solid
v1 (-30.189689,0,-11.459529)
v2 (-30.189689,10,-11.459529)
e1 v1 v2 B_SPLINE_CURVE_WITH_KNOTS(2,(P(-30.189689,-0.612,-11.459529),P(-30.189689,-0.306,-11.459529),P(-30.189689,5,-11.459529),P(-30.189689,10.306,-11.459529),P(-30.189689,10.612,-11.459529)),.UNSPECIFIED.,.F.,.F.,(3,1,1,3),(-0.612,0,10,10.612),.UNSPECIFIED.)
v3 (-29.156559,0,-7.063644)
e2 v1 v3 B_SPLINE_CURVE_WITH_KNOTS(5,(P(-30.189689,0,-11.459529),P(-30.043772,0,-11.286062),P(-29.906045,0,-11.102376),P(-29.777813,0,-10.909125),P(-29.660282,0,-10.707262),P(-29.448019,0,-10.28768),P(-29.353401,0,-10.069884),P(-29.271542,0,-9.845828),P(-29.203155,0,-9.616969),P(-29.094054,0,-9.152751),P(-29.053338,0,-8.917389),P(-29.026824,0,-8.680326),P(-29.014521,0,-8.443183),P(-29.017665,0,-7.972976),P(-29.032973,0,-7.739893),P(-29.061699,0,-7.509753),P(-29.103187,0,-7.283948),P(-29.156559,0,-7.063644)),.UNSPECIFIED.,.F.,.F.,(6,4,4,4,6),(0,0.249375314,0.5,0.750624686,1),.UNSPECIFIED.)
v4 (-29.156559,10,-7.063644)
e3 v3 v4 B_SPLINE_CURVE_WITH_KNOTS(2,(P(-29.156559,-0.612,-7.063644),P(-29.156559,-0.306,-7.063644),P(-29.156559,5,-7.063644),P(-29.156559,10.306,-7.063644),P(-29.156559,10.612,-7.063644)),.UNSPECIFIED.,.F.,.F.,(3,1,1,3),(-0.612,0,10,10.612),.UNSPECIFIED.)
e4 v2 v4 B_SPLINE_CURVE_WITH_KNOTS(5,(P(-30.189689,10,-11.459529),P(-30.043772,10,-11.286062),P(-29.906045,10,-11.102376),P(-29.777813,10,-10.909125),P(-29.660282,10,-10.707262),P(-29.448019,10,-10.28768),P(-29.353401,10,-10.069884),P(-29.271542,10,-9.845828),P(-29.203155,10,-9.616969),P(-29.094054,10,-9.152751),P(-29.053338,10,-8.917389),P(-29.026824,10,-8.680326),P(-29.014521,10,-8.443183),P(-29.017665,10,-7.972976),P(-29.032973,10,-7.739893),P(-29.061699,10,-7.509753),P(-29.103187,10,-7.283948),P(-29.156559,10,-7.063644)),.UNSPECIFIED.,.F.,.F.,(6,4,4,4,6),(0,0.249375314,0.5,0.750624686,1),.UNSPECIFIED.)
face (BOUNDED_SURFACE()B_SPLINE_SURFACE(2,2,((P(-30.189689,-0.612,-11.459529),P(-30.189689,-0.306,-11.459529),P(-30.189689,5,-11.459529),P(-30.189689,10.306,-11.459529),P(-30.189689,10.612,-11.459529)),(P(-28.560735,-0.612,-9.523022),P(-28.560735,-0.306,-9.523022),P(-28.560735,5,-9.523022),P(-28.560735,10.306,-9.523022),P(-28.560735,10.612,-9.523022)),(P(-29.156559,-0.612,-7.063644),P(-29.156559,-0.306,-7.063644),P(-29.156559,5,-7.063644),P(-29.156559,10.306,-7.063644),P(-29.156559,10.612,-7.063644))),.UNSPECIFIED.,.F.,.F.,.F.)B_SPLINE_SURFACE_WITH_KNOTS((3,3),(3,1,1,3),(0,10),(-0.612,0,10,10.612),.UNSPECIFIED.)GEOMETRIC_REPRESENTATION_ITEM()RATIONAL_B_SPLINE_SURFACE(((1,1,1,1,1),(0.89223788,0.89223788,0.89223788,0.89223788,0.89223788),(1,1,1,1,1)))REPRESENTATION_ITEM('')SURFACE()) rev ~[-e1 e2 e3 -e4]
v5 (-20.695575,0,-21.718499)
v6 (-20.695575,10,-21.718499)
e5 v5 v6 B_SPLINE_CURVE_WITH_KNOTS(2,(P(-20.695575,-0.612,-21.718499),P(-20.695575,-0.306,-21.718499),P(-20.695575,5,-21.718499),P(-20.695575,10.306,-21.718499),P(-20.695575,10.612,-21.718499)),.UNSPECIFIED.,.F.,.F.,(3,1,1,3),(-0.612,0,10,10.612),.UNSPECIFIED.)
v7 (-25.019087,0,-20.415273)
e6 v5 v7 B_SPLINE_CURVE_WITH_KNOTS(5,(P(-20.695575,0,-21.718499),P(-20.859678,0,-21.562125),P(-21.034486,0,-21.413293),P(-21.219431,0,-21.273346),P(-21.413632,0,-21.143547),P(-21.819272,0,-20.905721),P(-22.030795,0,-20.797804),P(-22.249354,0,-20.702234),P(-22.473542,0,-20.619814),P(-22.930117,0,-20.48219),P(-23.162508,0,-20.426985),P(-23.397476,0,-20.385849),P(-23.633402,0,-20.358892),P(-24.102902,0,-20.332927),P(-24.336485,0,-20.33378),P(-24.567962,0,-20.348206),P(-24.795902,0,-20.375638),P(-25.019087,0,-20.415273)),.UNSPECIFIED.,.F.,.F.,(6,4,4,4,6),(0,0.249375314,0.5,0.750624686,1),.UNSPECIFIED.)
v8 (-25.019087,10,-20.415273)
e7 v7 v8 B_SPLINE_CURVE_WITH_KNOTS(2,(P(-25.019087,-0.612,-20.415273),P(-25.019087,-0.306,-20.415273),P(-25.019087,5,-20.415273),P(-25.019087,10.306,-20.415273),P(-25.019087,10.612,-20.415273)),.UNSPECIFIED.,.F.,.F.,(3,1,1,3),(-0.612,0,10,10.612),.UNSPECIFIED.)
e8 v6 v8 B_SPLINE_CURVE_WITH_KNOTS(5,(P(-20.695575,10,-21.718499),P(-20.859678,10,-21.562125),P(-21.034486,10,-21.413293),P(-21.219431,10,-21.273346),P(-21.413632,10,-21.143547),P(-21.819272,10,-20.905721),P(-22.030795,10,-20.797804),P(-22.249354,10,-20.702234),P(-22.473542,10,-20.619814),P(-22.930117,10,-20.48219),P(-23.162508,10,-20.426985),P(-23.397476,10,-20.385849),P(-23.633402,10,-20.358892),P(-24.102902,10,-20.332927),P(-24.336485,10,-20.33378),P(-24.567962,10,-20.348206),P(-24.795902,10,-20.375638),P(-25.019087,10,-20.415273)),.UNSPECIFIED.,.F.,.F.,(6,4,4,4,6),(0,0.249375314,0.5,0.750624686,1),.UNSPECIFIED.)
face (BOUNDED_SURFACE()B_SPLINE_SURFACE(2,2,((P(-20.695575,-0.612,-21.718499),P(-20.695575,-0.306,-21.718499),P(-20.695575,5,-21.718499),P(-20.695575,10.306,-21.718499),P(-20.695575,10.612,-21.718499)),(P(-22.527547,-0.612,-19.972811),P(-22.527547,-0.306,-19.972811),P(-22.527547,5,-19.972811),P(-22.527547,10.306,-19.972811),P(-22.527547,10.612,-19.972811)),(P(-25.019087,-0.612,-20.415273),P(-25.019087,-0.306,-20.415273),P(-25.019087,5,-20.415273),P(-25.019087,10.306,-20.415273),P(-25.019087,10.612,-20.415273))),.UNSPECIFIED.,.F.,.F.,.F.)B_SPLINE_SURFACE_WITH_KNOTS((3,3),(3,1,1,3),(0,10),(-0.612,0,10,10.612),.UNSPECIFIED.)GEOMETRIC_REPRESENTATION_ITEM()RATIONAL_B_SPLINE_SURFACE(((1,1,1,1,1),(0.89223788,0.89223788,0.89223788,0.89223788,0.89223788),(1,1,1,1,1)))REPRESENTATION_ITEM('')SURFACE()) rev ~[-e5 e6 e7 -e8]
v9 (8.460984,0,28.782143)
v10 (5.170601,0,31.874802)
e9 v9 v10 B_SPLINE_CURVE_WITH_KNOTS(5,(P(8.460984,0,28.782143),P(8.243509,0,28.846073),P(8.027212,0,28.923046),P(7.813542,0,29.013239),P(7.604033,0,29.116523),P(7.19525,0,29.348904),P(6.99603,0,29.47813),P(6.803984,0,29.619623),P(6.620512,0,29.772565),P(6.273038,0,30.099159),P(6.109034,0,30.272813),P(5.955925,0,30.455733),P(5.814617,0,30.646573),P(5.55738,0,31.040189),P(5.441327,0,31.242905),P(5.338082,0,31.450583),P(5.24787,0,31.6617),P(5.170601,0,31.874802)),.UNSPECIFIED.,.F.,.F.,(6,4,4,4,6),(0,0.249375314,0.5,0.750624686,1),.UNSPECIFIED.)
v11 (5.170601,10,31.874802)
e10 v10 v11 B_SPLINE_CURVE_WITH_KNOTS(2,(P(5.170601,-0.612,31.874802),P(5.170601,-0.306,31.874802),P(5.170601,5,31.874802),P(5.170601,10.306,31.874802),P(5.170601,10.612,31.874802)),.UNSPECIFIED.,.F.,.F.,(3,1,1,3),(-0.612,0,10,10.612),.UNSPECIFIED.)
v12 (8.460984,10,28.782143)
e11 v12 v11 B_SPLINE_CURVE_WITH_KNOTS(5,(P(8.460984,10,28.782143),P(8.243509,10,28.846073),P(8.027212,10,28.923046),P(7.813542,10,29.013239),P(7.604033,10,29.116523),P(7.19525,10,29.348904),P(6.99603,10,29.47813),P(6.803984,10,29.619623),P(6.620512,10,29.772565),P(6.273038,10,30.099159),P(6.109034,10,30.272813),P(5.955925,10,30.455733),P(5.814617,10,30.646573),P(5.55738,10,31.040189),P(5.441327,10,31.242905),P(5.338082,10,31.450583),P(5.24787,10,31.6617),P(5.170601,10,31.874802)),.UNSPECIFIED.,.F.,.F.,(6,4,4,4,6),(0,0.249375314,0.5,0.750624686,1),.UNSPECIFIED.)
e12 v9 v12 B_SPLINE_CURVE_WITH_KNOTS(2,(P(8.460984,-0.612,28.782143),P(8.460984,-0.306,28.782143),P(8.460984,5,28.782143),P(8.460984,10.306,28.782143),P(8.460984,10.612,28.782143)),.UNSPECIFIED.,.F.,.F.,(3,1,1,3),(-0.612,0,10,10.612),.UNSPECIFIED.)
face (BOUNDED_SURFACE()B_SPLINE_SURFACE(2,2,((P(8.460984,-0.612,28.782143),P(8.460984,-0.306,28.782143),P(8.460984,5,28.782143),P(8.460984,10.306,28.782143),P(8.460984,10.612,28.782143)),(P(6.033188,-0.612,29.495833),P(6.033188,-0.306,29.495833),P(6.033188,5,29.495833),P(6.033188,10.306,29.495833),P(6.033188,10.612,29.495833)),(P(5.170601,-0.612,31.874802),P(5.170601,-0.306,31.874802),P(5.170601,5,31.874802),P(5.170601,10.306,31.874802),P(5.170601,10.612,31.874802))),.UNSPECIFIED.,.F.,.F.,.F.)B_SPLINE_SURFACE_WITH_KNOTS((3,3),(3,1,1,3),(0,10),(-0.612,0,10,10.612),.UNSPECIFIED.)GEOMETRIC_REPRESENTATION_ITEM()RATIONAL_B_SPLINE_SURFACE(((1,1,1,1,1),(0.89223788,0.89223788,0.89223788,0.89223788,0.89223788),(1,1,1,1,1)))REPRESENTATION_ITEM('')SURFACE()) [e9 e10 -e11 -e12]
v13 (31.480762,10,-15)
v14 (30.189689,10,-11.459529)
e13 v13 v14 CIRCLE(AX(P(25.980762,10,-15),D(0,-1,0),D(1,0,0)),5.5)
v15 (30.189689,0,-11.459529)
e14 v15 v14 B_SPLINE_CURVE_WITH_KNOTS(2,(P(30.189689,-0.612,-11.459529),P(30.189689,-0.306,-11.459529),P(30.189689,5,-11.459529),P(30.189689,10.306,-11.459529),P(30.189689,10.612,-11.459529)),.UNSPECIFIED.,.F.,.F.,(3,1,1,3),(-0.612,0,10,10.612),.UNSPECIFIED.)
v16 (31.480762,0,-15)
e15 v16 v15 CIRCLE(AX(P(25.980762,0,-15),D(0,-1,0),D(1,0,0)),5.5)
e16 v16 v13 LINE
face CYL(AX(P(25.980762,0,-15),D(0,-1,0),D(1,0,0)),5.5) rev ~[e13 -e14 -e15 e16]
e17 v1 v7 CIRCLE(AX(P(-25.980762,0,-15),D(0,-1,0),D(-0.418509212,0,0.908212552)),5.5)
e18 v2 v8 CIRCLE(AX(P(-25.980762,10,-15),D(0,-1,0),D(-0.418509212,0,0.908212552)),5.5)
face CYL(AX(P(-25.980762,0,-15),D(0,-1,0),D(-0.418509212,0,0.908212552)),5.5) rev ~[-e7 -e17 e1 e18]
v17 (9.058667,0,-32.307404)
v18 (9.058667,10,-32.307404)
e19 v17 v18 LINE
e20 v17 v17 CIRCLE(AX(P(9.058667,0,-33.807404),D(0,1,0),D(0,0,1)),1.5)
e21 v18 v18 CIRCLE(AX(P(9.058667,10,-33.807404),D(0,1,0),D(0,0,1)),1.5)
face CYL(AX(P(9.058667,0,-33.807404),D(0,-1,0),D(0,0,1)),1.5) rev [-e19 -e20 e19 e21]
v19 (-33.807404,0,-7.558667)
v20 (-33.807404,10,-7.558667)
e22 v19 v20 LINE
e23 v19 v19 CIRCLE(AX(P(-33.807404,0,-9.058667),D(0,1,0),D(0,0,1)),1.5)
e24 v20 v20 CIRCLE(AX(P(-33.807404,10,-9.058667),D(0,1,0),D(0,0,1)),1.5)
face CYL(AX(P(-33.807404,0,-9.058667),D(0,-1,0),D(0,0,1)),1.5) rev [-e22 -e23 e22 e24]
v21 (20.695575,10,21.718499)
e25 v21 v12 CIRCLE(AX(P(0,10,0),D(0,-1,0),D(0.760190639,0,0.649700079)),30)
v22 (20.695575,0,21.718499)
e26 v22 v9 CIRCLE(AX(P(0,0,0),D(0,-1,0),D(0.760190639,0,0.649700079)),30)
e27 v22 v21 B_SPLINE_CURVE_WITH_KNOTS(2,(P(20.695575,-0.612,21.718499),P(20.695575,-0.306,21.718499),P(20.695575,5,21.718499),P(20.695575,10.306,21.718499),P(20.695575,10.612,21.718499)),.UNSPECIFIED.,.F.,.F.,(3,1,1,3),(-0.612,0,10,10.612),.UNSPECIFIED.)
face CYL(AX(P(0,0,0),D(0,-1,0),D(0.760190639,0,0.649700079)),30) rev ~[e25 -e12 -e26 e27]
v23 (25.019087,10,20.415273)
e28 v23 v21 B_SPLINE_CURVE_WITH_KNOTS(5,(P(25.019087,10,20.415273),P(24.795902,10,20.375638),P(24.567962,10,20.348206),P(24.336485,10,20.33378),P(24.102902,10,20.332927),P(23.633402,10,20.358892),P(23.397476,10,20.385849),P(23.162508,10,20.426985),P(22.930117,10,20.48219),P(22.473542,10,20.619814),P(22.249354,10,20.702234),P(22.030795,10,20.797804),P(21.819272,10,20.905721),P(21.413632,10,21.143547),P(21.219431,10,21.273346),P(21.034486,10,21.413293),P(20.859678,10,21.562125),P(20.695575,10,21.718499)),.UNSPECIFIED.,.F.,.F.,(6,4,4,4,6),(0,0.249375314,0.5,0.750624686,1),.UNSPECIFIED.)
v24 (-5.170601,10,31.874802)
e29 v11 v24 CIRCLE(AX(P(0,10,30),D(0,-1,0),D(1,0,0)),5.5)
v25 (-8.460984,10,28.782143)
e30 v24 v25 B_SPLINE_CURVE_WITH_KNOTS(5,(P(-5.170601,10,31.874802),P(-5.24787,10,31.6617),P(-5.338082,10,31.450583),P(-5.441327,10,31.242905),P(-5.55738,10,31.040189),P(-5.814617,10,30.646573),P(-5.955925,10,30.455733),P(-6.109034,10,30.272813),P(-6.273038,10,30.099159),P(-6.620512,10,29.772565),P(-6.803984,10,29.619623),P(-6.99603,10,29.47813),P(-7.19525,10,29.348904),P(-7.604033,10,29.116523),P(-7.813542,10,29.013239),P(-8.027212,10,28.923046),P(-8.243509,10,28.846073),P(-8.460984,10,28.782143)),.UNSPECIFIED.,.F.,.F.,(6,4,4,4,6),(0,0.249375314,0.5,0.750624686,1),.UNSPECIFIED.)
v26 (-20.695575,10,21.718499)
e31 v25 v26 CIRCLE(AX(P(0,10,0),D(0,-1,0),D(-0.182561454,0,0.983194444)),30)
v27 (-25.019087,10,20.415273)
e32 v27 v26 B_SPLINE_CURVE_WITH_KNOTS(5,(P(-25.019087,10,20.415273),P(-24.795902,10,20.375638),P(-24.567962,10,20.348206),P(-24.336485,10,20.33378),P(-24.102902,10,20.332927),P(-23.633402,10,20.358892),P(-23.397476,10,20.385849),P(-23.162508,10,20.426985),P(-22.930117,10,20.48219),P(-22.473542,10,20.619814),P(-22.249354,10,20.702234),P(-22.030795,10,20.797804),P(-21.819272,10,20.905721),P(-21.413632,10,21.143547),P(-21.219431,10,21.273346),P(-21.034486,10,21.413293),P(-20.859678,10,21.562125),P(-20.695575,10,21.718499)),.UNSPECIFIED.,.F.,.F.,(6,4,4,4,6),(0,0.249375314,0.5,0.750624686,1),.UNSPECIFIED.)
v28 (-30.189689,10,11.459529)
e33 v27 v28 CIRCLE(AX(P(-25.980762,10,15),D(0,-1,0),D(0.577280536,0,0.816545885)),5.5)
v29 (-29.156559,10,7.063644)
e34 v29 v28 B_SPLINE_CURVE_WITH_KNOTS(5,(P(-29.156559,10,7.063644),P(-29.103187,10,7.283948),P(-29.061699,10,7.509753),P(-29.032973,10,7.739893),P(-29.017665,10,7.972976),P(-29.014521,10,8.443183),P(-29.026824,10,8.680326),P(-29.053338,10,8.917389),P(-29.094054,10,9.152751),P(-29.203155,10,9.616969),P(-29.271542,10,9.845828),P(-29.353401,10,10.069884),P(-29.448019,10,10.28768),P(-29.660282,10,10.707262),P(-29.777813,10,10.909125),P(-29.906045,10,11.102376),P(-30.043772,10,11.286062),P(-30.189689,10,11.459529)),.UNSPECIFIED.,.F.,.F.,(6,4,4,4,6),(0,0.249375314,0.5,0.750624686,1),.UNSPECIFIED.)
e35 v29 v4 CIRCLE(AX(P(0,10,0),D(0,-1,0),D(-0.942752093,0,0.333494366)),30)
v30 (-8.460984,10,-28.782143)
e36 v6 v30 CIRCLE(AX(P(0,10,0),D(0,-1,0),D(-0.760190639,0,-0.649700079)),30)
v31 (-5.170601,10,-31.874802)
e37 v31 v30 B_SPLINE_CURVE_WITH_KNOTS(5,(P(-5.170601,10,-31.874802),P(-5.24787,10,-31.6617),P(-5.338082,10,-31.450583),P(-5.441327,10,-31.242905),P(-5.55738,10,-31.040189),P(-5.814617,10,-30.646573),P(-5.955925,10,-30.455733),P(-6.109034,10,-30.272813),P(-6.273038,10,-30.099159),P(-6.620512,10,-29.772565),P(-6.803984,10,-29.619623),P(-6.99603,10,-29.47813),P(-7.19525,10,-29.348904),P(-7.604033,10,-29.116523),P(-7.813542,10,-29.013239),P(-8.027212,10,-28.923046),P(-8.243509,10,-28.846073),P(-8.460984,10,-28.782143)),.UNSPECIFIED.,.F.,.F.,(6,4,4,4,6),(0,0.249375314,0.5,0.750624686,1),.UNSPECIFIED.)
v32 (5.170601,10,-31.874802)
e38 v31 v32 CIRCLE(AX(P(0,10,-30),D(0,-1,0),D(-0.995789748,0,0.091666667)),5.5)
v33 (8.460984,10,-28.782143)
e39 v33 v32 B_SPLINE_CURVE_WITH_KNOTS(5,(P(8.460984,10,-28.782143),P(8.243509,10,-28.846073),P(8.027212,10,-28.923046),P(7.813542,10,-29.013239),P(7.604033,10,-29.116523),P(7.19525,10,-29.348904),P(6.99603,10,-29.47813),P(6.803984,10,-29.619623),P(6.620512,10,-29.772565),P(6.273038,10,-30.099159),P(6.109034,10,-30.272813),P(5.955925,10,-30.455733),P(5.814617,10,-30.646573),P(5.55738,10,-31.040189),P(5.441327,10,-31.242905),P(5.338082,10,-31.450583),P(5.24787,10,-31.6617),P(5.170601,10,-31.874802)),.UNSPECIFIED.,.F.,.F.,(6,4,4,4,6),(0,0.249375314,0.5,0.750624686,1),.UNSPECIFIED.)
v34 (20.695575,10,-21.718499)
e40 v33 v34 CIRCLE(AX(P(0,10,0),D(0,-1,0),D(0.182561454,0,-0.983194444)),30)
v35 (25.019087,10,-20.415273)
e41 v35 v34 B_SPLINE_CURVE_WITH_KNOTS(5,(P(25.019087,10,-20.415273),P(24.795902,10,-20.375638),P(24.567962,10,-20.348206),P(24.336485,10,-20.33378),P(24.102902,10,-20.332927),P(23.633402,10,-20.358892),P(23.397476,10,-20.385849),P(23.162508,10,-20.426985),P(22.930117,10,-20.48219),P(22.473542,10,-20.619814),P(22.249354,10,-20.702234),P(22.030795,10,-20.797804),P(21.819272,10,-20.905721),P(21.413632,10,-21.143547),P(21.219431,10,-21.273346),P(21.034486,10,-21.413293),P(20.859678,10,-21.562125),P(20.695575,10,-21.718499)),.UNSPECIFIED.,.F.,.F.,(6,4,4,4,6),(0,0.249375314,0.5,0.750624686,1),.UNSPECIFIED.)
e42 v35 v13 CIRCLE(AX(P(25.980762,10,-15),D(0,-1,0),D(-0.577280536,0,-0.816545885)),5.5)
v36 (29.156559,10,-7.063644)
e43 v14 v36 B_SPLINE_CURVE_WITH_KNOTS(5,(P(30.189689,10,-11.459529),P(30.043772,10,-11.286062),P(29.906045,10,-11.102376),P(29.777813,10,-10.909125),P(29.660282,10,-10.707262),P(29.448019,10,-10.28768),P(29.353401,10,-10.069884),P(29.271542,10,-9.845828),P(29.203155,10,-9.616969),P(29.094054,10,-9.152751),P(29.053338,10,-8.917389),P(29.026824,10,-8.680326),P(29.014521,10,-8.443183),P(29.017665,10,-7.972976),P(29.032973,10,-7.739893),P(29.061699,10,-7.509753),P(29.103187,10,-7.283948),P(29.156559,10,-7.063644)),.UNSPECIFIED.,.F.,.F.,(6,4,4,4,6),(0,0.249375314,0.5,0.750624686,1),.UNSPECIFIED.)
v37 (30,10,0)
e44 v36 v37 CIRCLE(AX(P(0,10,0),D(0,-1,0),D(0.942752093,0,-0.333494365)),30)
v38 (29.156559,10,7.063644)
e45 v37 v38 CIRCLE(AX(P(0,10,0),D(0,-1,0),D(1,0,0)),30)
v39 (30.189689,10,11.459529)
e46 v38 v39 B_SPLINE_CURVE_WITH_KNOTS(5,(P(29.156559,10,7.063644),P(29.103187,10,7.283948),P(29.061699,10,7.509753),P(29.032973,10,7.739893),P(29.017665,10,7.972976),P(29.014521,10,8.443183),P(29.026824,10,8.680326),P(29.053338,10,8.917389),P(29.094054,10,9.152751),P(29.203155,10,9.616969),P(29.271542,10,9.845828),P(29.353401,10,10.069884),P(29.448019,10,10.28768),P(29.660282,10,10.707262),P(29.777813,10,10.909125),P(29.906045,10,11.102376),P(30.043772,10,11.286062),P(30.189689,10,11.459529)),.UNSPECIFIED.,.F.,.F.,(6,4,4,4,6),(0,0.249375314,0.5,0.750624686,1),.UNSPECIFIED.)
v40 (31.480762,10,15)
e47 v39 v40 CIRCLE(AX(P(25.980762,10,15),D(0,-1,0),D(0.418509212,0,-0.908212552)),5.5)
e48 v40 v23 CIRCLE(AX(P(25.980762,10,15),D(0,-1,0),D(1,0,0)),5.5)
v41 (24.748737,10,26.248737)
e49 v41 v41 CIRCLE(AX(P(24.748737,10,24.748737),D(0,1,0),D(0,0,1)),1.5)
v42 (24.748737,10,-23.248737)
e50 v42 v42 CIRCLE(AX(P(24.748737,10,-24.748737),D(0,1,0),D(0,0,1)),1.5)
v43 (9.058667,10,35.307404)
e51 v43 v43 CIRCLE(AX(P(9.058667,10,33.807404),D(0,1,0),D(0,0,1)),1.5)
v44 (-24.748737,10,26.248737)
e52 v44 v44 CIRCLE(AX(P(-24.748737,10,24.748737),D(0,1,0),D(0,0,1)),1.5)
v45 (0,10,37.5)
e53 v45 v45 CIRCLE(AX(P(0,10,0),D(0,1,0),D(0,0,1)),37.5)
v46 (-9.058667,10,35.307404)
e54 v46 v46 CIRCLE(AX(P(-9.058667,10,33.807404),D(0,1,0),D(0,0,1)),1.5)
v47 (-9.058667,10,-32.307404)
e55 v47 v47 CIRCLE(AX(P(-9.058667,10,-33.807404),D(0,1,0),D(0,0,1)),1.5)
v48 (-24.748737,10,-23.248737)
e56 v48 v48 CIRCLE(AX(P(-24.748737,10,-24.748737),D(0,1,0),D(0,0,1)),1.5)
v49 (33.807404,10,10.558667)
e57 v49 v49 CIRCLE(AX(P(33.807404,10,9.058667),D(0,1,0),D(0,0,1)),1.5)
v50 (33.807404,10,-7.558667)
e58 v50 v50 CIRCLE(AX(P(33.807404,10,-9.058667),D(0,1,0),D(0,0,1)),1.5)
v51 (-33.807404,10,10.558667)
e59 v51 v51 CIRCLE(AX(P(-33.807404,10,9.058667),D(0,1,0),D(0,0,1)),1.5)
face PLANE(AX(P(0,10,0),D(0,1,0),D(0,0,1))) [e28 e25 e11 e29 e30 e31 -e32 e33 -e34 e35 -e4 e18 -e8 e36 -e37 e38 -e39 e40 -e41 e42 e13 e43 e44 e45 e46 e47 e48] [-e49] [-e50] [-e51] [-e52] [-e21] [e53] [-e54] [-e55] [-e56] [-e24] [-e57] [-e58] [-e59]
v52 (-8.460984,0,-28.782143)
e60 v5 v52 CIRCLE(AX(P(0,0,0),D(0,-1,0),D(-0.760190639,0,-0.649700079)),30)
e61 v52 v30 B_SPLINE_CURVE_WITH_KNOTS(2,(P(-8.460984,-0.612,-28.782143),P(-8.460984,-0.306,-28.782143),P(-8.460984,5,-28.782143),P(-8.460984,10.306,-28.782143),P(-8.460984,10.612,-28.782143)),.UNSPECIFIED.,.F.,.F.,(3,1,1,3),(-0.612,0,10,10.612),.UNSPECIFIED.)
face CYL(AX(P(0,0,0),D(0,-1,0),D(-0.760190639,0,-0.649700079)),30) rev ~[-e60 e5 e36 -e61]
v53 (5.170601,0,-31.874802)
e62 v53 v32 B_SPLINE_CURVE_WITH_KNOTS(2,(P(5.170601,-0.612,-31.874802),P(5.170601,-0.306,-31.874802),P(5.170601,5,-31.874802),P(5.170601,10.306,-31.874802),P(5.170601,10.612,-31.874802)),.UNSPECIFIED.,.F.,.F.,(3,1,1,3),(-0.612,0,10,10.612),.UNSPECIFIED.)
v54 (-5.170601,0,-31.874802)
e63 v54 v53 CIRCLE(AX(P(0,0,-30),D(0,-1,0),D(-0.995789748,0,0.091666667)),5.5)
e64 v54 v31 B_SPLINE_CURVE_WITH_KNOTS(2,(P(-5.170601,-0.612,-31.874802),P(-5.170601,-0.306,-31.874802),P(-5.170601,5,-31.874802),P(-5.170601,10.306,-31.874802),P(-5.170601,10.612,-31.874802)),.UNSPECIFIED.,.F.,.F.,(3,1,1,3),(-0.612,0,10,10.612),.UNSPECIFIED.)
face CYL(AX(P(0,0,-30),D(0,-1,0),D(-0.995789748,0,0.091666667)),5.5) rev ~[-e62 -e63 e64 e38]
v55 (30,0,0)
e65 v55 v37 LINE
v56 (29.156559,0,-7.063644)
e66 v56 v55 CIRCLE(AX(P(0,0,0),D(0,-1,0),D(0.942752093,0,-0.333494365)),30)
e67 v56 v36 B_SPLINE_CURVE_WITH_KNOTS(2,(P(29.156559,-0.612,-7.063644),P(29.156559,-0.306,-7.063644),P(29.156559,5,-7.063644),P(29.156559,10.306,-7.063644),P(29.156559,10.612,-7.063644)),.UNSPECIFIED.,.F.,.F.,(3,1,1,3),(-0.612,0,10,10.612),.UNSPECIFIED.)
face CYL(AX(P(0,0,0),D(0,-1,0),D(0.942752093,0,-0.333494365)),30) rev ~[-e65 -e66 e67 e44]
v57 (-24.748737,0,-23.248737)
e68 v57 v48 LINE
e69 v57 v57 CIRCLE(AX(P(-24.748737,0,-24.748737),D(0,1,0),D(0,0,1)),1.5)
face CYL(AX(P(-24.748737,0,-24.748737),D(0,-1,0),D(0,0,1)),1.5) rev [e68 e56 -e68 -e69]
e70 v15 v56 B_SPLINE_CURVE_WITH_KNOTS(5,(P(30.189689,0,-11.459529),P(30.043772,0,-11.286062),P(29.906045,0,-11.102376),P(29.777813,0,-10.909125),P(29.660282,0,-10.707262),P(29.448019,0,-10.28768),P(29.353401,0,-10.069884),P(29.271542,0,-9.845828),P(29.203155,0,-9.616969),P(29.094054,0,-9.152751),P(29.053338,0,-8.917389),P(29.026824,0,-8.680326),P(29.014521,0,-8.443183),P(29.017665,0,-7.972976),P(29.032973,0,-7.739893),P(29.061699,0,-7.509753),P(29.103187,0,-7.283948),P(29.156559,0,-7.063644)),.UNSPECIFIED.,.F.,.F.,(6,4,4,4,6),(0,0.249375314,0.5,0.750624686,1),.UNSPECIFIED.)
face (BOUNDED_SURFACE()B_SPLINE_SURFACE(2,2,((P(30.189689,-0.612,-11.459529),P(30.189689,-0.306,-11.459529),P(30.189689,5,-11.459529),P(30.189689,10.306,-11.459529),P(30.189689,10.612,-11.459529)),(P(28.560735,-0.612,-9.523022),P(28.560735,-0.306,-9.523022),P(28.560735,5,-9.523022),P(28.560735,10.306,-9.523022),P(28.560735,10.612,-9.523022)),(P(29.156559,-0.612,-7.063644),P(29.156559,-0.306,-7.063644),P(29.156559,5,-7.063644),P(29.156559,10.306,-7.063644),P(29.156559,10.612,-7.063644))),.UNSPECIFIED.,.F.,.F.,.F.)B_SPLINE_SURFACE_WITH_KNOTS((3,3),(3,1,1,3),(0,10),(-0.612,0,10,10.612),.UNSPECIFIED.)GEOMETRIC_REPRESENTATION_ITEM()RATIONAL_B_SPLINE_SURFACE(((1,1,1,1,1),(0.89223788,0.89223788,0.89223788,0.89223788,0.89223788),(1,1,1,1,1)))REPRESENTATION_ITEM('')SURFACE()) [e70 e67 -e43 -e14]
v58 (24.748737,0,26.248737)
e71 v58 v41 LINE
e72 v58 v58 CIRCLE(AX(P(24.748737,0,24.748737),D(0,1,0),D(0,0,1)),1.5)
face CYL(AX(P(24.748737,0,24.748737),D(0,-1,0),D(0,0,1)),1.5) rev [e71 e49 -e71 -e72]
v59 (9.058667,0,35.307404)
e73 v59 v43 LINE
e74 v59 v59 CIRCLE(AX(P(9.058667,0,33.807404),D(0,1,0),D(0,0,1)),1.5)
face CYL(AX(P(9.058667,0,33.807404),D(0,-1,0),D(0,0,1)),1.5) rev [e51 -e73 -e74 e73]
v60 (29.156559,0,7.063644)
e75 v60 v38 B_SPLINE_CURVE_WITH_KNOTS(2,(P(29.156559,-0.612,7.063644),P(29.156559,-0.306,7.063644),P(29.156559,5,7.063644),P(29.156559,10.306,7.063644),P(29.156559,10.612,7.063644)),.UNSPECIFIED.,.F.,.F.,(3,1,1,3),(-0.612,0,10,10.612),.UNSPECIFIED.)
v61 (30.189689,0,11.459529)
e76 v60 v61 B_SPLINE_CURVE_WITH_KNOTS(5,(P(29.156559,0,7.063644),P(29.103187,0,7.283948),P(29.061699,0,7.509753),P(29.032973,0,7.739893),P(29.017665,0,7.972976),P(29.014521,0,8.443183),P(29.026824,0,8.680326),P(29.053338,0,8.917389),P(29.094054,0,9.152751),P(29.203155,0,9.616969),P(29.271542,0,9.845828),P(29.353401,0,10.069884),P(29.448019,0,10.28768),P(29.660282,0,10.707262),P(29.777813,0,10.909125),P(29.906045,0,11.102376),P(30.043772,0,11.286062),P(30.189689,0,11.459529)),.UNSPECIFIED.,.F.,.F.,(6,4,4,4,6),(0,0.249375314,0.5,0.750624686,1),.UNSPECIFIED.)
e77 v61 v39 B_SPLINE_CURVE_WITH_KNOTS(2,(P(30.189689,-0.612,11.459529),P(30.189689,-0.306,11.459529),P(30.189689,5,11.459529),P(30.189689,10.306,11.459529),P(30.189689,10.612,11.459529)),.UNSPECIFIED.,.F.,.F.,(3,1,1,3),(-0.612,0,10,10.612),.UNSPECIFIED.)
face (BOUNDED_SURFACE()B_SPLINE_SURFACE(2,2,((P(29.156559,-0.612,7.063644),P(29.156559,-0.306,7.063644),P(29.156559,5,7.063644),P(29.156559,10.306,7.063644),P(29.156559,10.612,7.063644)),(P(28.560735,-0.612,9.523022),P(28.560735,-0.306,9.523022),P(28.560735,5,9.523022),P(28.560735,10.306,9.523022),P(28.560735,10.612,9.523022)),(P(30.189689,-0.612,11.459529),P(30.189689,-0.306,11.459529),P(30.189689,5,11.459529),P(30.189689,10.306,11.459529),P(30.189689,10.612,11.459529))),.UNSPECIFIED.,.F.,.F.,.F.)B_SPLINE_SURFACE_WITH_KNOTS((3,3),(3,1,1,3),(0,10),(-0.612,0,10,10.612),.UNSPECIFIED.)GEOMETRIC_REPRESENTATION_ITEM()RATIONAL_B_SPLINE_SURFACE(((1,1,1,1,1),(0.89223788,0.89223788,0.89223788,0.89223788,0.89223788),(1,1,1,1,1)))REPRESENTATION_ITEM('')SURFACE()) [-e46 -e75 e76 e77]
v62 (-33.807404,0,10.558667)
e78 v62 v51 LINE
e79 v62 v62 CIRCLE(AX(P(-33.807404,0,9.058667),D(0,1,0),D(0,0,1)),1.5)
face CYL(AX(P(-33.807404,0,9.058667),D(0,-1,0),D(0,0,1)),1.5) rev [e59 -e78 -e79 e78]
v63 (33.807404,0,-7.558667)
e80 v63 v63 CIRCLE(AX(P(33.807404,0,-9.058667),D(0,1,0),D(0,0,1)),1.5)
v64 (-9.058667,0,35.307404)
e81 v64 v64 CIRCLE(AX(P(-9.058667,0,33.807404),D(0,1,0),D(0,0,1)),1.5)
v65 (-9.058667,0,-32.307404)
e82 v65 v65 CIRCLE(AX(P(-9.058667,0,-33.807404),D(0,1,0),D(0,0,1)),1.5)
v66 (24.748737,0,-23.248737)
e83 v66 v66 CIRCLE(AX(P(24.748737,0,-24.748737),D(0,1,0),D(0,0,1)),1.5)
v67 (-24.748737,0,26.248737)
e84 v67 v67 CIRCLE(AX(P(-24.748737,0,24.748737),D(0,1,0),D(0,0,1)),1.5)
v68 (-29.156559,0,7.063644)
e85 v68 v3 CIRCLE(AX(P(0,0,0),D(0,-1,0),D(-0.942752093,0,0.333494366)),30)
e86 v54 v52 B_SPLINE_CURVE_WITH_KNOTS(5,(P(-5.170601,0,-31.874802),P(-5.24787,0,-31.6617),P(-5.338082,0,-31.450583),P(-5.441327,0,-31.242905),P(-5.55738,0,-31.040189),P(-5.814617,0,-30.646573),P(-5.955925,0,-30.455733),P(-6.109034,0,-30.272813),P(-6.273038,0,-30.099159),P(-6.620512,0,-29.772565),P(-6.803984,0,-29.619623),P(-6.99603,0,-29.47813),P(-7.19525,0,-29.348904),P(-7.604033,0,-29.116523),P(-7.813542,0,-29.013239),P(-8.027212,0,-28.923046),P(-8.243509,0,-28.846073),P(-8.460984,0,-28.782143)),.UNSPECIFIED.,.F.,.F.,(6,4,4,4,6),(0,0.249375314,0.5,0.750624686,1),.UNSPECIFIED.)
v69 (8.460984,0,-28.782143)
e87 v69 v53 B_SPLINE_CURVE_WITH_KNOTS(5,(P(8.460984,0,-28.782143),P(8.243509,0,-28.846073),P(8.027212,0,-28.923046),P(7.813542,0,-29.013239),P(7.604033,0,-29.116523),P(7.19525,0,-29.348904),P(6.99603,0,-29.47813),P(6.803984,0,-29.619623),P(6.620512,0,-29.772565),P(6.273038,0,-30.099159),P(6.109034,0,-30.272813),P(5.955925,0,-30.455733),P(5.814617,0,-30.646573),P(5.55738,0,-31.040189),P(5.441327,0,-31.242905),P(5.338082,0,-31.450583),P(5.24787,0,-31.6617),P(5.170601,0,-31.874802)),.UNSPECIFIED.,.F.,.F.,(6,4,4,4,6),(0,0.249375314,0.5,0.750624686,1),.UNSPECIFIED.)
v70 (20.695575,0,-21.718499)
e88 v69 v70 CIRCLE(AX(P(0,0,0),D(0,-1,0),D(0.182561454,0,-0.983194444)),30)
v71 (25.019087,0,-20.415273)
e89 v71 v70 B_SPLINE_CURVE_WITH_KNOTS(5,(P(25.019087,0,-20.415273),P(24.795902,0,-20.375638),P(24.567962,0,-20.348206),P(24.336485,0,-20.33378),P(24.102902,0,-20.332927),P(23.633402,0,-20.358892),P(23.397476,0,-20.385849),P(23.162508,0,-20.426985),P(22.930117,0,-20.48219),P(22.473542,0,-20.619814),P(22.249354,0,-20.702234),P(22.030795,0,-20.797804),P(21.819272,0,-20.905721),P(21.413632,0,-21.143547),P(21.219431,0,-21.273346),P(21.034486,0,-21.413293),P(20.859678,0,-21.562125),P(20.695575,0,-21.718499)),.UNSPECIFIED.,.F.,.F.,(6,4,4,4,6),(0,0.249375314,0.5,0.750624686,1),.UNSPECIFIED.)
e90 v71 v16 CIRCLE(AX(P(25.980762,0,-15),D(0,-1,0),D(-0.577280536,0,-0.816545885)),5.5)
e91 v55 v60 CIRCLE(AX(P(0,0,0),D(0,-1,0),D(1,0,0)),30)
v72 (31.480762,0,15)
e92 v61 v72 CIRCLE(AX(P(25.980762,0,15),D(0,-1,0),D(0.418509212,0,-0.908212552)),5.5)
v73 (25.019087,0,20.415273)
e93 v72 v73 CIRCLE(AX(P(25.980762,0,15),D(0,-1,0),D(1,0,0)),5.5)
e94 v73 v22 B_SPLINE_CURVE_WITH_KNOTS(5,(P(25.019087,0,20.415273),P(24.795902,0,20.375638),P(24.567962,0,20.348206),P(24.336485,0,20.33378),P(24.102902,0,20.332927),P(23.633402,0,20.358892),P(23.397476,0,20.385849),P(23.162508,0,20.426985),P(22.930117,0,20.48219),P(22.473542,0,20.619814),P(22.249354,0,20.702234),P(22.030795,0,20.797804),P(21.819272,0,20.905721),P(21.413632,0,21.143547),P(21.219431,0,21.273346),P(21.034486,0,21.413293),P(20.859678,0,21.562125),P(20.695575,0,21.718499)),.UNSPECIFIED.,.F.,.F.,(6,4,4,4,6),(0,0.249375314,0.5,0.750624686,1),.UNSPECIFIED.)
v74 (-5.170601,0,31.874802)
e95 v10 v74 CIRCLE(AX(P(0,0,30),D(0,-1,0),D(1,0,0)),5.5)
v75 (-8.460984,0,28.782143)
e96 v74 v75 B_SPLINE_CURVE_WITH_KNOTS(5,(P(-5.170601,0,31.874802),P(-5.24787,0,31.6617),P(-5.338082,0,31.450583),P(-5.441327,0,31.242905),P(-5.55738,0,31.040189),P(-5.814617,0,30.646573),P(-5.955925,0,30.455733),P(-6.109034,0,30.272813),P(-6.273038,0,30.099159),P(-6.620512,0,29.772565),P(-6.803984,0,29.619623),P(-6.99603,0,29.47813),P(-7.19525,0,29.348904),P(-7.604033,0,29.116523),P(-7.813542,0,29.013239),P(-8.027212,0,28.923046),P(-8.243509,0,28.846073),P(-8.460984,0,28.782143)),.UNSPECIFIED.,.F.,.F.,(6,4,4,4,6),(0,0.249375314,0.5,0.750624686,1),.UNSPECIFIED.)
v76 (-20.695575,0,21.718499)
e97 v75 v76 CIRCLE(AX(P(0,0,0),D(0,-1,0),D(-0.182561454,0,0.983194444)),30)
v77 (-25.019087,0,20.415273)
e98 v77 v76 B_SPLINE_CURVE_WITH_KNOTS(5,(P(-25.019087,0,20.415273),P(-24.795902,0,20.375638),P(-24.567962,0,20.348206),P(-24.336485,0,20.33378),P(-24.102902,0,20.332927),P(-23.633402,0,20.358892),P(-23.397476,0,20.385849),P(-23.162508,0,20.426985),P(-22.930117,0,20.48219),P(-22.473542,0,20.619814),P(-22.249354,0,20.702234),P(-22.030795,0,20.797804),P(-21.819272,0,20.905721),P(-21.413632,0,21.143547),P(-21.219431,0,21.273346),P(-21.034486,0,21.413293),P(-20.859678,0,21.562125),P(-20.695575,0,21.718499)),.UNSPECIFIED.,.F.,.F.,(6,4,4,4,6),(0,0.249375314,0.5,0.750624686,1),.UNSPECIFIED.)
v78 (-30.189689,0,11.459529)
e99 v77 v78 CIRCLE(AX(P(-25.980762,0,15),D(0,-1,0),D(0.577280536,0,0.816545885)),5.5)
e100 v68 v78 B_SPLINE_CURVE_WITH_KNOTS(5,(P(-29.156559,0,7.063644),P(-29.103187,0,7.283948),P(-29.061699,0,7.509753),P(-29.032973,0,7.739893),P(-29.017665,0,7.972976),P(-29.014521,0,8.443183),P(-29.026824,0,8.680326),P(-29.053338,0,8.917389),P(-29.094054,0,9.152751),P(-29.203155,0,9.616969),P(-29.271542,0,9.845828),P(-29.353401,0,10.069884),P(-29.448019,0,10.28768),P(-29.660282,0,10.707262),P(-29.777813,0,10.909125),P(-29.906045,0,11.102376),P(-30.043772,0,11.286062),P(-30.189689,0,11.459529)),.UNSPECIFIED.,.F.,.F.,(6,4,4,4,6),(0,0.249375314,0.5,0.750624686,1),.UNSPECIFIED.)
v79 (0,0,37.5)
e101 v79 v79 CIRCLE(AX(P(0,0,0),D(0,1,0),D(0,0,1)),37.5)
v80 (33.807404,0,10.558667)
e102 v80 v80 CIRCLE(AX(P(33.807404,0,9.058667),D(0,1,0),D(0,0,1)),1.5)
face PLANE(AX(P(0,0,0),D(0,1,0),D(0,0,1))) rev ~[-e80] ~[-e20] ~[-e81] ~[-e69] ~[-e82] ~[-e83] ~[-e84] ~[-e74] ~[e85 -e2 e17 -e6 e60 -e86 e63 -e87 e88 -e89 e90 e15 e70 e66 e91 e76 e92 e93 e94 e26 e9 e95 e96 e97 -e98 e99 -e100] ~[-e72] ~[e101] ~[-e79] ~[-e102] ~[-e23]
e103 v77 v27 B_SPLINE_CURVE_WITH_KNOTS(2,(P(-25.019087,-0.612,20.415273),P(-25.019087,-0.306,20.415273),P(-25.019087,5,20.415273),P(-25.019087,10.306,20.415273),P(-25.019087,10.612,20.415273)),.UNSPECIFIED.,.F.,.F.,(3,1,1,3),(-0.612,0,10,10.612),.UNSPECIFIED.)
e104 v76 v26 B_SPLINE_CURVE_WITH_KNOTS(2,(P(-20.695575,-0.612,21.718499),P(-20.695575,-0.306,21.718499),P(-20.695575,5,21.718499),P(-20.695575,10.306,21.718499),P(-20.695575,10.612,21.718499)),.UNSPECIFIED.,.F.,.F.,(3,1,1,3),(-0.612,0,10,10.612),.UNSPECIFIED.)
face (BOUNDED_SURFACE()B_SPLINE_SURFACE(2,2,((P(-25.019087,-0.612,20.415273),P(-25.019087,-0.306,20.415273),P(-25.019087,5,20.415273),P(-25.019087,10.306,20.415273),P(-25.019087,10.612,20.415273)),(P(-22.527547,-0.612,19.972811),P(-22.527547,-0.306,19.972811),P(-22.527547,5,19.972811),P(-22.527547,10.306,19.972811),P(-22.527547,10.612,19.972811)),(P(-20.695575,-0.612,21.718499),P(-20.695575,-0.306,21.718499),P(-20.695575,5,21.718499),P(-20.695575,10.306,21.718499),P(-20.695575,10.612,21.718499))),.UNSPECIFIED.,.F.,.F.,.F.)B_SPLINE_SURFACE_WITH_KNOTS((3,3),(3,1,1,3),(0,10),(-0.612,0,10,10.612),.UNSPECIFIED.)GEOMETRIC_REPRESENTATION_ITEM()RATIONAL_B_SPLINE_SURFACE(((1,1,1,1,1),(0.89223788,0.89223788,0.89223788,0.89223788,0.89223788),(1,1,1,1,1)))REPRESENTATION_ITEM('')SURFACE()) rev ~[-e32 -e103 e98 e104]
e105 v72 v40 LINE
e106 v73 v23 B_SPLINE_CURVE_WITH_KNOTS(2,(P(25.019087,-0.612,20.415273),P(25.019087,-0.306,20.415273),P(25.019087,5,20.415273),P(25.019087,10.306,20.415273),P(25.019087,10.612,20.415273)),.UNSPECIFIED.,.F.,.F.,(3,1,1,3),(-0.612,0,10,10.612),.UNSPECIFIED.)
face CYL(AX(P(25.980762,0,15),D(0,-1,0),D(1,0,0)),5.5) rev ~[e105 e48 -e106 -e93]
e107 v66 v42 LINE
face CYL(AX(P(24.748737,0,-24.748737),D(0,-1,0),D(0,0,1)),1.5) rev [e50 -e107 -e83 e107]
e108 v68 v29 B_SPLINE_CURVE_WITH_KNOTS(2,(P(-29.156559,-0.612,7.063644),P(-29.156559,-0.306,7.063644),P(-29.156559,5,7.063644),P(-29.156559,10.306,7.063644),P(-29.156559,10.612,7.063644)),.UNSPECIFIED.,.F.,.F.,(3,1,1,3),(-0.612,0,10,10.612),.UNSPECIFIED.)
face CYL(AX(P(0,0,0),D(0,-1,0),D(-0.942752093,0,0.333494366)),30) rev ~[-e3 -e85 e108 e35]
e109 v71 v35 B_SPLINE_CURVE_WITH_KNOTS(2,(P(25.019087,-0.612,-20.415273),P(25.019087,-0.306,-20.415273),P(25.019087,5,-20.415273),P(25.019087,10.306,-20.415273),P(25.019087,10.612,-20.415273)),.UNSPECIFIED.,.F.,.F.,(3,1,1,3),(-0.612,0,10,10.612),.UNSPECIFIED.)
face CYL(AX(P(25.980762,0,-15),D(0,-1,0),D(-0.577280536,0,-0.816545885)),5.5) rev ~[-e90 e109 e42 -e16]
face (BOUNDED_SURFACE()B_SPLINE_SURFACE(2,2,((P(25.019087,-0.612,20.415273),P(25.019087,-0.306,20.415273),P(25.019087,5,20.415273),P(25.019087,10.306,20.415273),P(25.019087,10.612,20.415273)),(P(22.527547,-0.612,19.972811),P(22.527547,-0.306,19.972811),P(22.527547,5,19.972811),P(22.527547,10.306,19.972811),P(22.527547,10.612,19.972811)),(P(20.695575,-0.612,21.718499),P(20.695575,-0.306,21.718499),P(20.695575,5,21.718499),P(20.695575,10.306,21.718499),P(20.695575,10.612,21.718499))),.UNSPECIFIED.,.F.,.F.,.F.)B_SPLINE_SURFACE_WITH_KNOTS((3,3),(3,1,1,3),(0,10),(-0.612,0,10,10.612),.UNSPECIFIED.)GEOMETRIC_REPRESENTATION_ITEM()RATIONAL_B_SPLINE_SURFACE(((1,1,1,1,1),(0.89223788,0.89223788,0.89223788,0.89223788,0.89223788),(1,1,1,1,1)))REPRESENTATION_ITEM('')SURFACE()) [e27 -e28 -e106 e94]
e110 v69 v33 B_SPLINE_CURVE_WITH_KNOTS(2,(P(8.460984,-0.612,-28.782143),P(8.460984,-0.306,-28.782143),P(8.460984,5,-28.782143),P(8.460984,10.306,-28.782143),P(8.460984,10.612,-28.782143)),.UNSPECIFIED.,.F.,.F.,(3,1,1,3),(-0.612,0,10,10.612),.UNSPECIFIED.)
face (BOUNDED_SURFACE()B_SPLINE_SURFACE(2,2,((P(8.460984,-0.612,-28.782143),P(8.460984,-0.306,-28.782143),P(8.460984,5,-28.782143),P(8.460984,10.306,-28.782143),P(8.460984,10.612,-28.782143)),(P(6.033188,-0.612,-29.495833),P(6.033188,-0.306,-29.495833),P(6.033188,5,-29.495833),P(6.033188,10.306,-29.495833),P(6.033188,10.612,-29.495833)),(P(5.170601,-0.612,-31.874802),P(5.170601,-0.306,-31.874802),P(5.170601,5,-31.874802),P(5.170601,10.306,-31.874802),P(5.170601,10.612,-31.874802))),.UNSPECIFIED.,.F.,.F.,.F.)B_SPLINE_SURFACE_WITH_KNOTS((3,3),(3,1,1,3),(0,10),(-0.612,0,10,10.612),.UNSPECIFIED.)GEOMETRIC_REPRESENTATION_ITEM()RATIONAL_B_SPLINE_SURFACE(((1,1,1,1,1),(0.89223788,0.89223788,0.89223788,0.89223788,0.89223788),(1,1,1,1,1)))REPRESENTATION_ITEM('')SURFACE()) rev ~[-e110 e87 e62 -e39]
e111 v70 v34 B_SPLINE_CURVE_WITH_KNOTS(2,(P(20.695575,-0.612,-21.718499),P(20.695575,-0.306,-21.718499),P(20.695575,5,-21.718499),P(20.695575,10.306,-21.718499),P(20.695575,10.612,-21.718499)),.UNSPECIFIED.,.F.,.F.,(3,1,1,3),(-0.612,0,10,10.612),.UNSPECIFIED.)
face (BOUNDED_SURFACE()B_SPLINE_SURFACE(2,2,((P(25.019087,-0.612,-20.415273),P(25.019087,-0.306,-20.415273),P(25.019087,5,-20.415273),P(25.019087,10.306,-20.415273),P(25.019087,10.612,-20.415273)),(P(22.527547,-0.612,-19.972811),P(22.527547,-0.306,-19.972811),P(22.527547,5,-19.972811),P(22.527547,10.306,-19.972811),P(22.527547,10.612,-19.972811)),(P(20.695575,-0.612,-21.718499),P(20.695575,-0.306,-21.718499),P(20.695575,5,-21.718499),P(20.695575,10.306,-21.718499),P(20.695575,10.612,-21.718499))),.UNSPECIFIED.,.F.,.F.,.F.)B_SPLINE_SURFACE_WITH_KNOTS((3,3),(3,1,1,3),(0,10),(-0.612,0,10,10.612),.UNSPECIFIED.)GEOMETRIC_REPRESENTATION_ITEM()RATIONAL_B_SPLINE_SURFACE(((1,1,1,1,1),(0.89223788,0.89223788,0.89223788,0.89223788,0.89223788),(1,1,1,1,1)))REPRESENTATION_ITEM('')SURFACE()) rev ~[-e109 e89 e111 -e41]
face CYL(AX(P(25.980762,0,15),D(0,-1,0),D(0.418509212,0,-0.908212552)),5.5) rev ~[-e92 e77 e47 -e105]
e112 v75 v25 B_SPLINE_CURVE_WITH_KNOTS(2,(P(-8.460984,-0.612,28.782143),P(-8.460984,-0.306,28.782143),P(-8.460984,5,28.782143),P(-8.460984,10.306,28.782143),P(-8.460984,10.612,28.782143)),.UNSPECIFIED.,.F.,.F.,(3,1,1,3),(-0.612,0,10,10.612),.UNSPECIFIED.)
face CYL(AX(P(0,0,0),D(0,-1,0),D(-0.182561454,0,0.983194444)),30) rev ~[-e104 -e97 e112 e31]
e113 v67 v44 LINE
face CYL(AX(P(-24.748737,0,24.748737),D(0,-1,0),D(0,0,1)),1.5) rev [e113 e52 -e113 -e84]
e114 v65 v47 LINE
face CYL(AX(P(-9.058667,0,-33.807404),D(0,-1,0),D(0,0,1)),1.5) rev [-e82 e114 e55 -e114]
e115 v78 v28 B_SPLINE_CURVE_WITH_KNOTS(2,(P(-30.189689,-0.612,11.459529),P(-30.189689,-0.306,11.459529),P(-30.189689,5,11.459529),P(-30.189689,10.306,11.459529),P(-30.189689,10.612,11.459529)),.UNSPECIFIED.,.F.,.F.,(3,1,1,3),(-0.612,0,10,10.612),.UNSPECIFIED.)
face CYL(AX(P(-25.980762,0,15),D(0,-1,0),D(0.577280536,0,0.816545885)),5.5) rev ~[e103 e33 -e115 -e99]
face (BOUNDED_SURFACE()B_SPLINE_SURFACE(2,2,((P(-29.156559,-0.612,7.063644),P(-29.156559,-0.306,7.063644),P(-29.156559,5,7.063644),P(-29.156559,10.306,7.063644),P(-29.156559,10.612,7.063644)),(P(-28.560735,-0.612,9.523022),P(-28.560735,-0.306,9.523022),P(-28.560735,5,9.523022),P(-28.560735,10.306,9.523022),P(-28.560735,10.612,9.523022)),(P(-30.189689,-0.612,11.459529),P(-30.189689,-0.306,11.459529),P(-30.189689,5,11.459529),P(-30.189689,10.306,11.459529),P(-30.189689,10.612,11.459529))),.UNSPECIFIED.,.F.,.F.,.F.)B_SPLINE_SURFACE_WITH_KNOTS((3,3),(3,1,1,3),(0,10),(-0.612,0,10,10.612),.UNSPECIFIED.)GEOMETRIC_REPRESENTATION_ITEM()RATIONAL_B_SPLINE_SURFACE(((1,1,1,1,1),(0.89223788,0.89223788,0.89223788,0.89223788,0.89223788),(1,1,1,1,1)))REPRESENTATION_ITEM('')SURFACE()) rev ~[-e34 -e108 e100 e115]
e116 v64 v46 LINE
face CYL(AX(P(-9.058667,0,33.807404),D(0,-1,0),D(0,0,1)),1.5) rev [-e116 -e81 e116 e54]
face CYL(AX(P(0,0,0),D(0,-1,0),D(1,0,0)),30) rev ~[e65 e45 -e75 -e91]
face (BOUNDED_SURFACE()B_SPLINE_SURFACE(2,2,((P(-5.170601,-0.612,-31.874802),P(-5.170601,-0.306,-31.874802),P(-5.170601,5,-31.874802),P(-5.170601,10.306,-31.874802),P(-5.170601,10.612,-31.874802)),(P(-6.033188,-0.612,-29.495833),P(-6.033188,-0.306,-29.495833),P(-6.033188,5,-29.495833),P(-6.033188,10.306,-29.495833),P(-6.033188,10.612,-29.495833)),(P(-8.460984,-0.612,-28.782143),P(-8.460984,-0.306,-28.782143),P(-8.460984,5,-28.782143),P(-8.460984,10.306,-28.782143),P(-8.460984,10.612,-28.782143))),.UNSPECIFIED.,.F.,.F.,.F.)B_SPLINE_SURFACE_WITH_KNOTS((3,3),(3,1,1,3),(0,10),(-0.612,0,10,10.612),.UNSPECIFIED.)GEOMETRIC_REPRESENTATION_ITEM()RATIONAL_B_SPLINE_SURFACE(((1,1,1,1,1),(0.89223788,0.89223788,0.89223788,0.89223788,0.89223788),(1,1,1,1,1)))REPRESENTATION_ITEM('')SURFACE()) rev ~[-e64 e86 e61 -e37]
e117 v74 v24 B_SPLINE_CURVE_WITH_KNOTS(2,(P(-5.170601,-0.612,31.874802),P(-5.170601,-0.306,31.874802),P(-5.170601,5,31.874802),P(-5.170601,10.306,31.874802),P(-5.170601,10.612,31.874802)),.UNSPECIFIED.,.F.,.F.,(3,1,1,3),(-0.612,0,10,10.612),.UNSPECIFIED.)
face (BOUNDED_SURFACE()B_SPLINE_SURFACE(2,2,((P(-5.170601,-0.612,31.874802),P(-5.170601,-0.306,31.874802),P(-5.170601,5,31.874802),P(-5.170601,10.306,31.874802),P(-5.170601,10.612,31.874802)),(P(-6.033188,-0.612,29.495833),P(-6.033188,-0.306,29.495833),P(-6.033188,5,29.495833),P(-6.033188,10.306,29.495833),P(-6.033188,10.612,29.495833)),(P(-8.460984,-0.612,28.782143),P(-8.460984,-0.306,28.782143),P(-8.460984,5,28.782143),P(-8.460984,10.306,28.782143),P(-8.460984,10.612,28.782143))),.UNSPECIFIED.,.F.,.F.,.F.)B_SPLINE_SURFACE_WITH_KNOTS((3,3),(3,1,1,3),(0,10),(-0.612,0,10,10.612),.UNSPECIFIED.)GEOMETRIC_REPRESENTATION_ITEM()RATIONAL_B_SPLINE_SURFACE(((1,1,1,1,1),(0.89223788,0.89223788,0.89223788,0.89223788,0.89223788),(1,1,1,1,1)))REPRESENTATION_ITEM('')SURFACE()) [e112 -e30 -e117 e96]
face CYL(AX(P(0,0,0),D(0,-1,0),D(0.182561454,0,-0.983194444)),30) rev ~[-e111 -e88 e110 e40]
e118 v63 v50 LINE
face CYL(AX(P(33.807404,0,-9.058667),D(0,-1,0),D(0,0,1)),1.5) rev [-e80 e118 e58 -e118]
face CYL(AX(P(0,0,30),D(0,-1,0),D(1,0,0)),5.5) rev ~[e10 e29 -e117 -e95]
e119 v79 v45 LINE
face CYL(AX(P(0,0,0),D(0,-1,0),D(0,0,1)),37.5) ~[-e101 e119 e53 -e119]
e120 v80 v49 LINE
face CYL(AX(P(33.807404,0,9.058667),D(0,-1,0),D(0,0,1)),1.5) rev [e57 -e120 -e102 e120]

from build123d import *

# Parameters (mm, degrees)
SKETCH1_R           = 37.5
SKETCH1_R_2         = 1.5
BOSS_EXTRUDE1_DEPTH = 10
FILLET1_R           = 5


with BuildPart() as part:
    # Sketch1 → Boss-Extrude1 (new body)
    with BuildSketch(Plane(origin=(0, 0, 0), x_dir=(1, 0, 0), z_dir=(0, 1, 0))):
        with Locations(Location((0, 0, 0), (0, 0, 270))):
            Circle(SKETCH1_R)
        with Locations(Location((-24.748737342, -24.748737342, 0), (0, 0, 270))):
            Circle(SKETCH1_R_2, mode=Mode.SUBTRACT)
        with Locations(Location((-9.058666579, -33.80740392, 0), (0, 0, 270))):
            Circle(SKETCH1_R_2, mode=Mode.SUBTRACT)
        with Locations(Location((-33.80740392, -9.058666579, 0), (0, 0, 270))):
            Circle(SKETCH1_R_2, mode=Mode.SUBTRACT)
        with Locations(Location((9.058666579, -33.80740392, 0), (0, 0, 270))):
            Circle(SKETCH1_R_2, mode=Mode.SUBTRACT)
        with Locations(Location((24.748737342, -24.748737342, 0), (0, 0, 270))):
            Circle(SKETCH1_R_2, mode=Mode.SUBTRACT)
        with Locations(Location((33.80740392, -9.058666579, 0), (0, 0, 270))):
            Circle(SKETCH1_R_2, mode=Mode.SUBTRACT)
        with Locations(Location((-33.80740392, 9.058666579, 0), (0, 0, 270))):
            Circle(SKETCH1_R_2, mode=Mode.SUBTRACT)
        with Locations(Location((-24.748737342, 24.748737342, 0), (0, 0, 270))):
            Circle(SKETCH1_R_2, mode=Mode.SUBTRACT)
        with Locations(Location((-9.058666579, 33.80740392, 0), (0, 0, 270))):
            Circle(SKETCH1_R_2, mode=Mode.SUBTRACT)
        with BuildLine():
            ThreePointArc((28.282562779, 10.004830964), (29.567523428, 5.075584529), (30, 0))
            ThreePointArc((30, 0), (29.567523428, -5.075584529), (28.282562779, -10.004830964))
            ThreePointArc((28.282562779, -10.004830964), (30.612711145, -12.034355354), (31.480762114, -15))
            ThreePointArc((31.480762114, -15), (28.509325321, -19.884298118), (22.805719165, -19.491002369))
            ThreePointArc((22.805719165, -19.491002369), (15, -25.980762114), (5.476843614, -29.495833333))
            ThreePointArc((5.476843614, -29.495833333), (5.494207854, -29.747650913), (5.5, -30))
            ThreePointArc((5.5, -30), (-0.252349087, -35.494207854), (-5.476843614, -29.495833333))
            ThreePointArc((-5.476843614, -29.495833333), (-15, -25.980762114), (-22.805719165, -19.491002369))
            ThreePointArc((-22.805719165, -19.491002369), (-30.743901834, -17.75), (-28.282562779, -10.004830964))
            ThreePointArc((-28.282562779, -10.004830964), (-30, 0), (-28.282562779, 10.004830964))
            ThreePointArc((-28.282562779, 10.004830964), (-30.743901834, 17.75), (-22.805719165, 19.491002369))
            ThreePointArc((-22.805719165, 19.491002369), (-15, 25.980762114), (-5.476843614, 29.495833333))
            ThreePointArc((-5.476843614, 29.495833333), (-0.252349087, 35.494207854), (5.5, 30))
            ThreePointArc((5.5, 30), (5.494207854, 29.747650913), (5.476843614, 29.495833333))
            ThreePointArc((5.476843614, 29.495833333), (15, 25.980762114), (22.805719165, 19.491002369))
            ThreePointArc((22.805719165, 19.491002369), (28.509325321, 19.884298118), (31.480762114, 15))
            ThreePointArc((31.480762114, 15), (30.612711145, 12.034355354), (28.282562779, 10.004830964))
        make_face(mode=Mode.SUBTRACT)
        with Locations(Location((33.80740392, 9.058666579, 0), (0, 0, 270))):
            Circle(SKETCH1_R_2, mode=Mode.SUBTRACT)
        with Locations(Location((9.058666579, 33.80740392, 0), (0, 0, 270))):
            Circle(SKETCH1_R_2, mode=Mode.SUBTRACT)
        with Locations(Location((24.748737342, 24.748737342, 0), (0, 0, 270))):
            Circle(SKETCH1_R_2, mode=Mode.SUBTRACT)
    extrude(amount=BOSS_EXTRUDE1_DEPTH)

    # Fillet1
    fillet1_edges = [part.edges().sort_by_distance(p)[0] for p in [
        (-28.282562779, 5, -10.004830964),
        (-28.282562779, 5, 10.004830964),
        (-22.805719165, 5, 19.491002369),
        (-5.476843614, 5, 29.495833333),
        (5.476843614, 5, 29.495833333),
        (22.805719165, 5, 19.491002369),
        (28.282562779, 5, 10.004830964),
        (28.282562779, 5, -10.004830964),
        (22.805719165, 5, -19.491002369),
        (5.476843614, 5, -29.495833333),
        (-5.476843614, 5, -29.495833333),
        (-22.805719165, 5, -19.491002369),
    ]]
    fillet(fillet1_edges, radius=FILLET1_R)


solid = part.part
